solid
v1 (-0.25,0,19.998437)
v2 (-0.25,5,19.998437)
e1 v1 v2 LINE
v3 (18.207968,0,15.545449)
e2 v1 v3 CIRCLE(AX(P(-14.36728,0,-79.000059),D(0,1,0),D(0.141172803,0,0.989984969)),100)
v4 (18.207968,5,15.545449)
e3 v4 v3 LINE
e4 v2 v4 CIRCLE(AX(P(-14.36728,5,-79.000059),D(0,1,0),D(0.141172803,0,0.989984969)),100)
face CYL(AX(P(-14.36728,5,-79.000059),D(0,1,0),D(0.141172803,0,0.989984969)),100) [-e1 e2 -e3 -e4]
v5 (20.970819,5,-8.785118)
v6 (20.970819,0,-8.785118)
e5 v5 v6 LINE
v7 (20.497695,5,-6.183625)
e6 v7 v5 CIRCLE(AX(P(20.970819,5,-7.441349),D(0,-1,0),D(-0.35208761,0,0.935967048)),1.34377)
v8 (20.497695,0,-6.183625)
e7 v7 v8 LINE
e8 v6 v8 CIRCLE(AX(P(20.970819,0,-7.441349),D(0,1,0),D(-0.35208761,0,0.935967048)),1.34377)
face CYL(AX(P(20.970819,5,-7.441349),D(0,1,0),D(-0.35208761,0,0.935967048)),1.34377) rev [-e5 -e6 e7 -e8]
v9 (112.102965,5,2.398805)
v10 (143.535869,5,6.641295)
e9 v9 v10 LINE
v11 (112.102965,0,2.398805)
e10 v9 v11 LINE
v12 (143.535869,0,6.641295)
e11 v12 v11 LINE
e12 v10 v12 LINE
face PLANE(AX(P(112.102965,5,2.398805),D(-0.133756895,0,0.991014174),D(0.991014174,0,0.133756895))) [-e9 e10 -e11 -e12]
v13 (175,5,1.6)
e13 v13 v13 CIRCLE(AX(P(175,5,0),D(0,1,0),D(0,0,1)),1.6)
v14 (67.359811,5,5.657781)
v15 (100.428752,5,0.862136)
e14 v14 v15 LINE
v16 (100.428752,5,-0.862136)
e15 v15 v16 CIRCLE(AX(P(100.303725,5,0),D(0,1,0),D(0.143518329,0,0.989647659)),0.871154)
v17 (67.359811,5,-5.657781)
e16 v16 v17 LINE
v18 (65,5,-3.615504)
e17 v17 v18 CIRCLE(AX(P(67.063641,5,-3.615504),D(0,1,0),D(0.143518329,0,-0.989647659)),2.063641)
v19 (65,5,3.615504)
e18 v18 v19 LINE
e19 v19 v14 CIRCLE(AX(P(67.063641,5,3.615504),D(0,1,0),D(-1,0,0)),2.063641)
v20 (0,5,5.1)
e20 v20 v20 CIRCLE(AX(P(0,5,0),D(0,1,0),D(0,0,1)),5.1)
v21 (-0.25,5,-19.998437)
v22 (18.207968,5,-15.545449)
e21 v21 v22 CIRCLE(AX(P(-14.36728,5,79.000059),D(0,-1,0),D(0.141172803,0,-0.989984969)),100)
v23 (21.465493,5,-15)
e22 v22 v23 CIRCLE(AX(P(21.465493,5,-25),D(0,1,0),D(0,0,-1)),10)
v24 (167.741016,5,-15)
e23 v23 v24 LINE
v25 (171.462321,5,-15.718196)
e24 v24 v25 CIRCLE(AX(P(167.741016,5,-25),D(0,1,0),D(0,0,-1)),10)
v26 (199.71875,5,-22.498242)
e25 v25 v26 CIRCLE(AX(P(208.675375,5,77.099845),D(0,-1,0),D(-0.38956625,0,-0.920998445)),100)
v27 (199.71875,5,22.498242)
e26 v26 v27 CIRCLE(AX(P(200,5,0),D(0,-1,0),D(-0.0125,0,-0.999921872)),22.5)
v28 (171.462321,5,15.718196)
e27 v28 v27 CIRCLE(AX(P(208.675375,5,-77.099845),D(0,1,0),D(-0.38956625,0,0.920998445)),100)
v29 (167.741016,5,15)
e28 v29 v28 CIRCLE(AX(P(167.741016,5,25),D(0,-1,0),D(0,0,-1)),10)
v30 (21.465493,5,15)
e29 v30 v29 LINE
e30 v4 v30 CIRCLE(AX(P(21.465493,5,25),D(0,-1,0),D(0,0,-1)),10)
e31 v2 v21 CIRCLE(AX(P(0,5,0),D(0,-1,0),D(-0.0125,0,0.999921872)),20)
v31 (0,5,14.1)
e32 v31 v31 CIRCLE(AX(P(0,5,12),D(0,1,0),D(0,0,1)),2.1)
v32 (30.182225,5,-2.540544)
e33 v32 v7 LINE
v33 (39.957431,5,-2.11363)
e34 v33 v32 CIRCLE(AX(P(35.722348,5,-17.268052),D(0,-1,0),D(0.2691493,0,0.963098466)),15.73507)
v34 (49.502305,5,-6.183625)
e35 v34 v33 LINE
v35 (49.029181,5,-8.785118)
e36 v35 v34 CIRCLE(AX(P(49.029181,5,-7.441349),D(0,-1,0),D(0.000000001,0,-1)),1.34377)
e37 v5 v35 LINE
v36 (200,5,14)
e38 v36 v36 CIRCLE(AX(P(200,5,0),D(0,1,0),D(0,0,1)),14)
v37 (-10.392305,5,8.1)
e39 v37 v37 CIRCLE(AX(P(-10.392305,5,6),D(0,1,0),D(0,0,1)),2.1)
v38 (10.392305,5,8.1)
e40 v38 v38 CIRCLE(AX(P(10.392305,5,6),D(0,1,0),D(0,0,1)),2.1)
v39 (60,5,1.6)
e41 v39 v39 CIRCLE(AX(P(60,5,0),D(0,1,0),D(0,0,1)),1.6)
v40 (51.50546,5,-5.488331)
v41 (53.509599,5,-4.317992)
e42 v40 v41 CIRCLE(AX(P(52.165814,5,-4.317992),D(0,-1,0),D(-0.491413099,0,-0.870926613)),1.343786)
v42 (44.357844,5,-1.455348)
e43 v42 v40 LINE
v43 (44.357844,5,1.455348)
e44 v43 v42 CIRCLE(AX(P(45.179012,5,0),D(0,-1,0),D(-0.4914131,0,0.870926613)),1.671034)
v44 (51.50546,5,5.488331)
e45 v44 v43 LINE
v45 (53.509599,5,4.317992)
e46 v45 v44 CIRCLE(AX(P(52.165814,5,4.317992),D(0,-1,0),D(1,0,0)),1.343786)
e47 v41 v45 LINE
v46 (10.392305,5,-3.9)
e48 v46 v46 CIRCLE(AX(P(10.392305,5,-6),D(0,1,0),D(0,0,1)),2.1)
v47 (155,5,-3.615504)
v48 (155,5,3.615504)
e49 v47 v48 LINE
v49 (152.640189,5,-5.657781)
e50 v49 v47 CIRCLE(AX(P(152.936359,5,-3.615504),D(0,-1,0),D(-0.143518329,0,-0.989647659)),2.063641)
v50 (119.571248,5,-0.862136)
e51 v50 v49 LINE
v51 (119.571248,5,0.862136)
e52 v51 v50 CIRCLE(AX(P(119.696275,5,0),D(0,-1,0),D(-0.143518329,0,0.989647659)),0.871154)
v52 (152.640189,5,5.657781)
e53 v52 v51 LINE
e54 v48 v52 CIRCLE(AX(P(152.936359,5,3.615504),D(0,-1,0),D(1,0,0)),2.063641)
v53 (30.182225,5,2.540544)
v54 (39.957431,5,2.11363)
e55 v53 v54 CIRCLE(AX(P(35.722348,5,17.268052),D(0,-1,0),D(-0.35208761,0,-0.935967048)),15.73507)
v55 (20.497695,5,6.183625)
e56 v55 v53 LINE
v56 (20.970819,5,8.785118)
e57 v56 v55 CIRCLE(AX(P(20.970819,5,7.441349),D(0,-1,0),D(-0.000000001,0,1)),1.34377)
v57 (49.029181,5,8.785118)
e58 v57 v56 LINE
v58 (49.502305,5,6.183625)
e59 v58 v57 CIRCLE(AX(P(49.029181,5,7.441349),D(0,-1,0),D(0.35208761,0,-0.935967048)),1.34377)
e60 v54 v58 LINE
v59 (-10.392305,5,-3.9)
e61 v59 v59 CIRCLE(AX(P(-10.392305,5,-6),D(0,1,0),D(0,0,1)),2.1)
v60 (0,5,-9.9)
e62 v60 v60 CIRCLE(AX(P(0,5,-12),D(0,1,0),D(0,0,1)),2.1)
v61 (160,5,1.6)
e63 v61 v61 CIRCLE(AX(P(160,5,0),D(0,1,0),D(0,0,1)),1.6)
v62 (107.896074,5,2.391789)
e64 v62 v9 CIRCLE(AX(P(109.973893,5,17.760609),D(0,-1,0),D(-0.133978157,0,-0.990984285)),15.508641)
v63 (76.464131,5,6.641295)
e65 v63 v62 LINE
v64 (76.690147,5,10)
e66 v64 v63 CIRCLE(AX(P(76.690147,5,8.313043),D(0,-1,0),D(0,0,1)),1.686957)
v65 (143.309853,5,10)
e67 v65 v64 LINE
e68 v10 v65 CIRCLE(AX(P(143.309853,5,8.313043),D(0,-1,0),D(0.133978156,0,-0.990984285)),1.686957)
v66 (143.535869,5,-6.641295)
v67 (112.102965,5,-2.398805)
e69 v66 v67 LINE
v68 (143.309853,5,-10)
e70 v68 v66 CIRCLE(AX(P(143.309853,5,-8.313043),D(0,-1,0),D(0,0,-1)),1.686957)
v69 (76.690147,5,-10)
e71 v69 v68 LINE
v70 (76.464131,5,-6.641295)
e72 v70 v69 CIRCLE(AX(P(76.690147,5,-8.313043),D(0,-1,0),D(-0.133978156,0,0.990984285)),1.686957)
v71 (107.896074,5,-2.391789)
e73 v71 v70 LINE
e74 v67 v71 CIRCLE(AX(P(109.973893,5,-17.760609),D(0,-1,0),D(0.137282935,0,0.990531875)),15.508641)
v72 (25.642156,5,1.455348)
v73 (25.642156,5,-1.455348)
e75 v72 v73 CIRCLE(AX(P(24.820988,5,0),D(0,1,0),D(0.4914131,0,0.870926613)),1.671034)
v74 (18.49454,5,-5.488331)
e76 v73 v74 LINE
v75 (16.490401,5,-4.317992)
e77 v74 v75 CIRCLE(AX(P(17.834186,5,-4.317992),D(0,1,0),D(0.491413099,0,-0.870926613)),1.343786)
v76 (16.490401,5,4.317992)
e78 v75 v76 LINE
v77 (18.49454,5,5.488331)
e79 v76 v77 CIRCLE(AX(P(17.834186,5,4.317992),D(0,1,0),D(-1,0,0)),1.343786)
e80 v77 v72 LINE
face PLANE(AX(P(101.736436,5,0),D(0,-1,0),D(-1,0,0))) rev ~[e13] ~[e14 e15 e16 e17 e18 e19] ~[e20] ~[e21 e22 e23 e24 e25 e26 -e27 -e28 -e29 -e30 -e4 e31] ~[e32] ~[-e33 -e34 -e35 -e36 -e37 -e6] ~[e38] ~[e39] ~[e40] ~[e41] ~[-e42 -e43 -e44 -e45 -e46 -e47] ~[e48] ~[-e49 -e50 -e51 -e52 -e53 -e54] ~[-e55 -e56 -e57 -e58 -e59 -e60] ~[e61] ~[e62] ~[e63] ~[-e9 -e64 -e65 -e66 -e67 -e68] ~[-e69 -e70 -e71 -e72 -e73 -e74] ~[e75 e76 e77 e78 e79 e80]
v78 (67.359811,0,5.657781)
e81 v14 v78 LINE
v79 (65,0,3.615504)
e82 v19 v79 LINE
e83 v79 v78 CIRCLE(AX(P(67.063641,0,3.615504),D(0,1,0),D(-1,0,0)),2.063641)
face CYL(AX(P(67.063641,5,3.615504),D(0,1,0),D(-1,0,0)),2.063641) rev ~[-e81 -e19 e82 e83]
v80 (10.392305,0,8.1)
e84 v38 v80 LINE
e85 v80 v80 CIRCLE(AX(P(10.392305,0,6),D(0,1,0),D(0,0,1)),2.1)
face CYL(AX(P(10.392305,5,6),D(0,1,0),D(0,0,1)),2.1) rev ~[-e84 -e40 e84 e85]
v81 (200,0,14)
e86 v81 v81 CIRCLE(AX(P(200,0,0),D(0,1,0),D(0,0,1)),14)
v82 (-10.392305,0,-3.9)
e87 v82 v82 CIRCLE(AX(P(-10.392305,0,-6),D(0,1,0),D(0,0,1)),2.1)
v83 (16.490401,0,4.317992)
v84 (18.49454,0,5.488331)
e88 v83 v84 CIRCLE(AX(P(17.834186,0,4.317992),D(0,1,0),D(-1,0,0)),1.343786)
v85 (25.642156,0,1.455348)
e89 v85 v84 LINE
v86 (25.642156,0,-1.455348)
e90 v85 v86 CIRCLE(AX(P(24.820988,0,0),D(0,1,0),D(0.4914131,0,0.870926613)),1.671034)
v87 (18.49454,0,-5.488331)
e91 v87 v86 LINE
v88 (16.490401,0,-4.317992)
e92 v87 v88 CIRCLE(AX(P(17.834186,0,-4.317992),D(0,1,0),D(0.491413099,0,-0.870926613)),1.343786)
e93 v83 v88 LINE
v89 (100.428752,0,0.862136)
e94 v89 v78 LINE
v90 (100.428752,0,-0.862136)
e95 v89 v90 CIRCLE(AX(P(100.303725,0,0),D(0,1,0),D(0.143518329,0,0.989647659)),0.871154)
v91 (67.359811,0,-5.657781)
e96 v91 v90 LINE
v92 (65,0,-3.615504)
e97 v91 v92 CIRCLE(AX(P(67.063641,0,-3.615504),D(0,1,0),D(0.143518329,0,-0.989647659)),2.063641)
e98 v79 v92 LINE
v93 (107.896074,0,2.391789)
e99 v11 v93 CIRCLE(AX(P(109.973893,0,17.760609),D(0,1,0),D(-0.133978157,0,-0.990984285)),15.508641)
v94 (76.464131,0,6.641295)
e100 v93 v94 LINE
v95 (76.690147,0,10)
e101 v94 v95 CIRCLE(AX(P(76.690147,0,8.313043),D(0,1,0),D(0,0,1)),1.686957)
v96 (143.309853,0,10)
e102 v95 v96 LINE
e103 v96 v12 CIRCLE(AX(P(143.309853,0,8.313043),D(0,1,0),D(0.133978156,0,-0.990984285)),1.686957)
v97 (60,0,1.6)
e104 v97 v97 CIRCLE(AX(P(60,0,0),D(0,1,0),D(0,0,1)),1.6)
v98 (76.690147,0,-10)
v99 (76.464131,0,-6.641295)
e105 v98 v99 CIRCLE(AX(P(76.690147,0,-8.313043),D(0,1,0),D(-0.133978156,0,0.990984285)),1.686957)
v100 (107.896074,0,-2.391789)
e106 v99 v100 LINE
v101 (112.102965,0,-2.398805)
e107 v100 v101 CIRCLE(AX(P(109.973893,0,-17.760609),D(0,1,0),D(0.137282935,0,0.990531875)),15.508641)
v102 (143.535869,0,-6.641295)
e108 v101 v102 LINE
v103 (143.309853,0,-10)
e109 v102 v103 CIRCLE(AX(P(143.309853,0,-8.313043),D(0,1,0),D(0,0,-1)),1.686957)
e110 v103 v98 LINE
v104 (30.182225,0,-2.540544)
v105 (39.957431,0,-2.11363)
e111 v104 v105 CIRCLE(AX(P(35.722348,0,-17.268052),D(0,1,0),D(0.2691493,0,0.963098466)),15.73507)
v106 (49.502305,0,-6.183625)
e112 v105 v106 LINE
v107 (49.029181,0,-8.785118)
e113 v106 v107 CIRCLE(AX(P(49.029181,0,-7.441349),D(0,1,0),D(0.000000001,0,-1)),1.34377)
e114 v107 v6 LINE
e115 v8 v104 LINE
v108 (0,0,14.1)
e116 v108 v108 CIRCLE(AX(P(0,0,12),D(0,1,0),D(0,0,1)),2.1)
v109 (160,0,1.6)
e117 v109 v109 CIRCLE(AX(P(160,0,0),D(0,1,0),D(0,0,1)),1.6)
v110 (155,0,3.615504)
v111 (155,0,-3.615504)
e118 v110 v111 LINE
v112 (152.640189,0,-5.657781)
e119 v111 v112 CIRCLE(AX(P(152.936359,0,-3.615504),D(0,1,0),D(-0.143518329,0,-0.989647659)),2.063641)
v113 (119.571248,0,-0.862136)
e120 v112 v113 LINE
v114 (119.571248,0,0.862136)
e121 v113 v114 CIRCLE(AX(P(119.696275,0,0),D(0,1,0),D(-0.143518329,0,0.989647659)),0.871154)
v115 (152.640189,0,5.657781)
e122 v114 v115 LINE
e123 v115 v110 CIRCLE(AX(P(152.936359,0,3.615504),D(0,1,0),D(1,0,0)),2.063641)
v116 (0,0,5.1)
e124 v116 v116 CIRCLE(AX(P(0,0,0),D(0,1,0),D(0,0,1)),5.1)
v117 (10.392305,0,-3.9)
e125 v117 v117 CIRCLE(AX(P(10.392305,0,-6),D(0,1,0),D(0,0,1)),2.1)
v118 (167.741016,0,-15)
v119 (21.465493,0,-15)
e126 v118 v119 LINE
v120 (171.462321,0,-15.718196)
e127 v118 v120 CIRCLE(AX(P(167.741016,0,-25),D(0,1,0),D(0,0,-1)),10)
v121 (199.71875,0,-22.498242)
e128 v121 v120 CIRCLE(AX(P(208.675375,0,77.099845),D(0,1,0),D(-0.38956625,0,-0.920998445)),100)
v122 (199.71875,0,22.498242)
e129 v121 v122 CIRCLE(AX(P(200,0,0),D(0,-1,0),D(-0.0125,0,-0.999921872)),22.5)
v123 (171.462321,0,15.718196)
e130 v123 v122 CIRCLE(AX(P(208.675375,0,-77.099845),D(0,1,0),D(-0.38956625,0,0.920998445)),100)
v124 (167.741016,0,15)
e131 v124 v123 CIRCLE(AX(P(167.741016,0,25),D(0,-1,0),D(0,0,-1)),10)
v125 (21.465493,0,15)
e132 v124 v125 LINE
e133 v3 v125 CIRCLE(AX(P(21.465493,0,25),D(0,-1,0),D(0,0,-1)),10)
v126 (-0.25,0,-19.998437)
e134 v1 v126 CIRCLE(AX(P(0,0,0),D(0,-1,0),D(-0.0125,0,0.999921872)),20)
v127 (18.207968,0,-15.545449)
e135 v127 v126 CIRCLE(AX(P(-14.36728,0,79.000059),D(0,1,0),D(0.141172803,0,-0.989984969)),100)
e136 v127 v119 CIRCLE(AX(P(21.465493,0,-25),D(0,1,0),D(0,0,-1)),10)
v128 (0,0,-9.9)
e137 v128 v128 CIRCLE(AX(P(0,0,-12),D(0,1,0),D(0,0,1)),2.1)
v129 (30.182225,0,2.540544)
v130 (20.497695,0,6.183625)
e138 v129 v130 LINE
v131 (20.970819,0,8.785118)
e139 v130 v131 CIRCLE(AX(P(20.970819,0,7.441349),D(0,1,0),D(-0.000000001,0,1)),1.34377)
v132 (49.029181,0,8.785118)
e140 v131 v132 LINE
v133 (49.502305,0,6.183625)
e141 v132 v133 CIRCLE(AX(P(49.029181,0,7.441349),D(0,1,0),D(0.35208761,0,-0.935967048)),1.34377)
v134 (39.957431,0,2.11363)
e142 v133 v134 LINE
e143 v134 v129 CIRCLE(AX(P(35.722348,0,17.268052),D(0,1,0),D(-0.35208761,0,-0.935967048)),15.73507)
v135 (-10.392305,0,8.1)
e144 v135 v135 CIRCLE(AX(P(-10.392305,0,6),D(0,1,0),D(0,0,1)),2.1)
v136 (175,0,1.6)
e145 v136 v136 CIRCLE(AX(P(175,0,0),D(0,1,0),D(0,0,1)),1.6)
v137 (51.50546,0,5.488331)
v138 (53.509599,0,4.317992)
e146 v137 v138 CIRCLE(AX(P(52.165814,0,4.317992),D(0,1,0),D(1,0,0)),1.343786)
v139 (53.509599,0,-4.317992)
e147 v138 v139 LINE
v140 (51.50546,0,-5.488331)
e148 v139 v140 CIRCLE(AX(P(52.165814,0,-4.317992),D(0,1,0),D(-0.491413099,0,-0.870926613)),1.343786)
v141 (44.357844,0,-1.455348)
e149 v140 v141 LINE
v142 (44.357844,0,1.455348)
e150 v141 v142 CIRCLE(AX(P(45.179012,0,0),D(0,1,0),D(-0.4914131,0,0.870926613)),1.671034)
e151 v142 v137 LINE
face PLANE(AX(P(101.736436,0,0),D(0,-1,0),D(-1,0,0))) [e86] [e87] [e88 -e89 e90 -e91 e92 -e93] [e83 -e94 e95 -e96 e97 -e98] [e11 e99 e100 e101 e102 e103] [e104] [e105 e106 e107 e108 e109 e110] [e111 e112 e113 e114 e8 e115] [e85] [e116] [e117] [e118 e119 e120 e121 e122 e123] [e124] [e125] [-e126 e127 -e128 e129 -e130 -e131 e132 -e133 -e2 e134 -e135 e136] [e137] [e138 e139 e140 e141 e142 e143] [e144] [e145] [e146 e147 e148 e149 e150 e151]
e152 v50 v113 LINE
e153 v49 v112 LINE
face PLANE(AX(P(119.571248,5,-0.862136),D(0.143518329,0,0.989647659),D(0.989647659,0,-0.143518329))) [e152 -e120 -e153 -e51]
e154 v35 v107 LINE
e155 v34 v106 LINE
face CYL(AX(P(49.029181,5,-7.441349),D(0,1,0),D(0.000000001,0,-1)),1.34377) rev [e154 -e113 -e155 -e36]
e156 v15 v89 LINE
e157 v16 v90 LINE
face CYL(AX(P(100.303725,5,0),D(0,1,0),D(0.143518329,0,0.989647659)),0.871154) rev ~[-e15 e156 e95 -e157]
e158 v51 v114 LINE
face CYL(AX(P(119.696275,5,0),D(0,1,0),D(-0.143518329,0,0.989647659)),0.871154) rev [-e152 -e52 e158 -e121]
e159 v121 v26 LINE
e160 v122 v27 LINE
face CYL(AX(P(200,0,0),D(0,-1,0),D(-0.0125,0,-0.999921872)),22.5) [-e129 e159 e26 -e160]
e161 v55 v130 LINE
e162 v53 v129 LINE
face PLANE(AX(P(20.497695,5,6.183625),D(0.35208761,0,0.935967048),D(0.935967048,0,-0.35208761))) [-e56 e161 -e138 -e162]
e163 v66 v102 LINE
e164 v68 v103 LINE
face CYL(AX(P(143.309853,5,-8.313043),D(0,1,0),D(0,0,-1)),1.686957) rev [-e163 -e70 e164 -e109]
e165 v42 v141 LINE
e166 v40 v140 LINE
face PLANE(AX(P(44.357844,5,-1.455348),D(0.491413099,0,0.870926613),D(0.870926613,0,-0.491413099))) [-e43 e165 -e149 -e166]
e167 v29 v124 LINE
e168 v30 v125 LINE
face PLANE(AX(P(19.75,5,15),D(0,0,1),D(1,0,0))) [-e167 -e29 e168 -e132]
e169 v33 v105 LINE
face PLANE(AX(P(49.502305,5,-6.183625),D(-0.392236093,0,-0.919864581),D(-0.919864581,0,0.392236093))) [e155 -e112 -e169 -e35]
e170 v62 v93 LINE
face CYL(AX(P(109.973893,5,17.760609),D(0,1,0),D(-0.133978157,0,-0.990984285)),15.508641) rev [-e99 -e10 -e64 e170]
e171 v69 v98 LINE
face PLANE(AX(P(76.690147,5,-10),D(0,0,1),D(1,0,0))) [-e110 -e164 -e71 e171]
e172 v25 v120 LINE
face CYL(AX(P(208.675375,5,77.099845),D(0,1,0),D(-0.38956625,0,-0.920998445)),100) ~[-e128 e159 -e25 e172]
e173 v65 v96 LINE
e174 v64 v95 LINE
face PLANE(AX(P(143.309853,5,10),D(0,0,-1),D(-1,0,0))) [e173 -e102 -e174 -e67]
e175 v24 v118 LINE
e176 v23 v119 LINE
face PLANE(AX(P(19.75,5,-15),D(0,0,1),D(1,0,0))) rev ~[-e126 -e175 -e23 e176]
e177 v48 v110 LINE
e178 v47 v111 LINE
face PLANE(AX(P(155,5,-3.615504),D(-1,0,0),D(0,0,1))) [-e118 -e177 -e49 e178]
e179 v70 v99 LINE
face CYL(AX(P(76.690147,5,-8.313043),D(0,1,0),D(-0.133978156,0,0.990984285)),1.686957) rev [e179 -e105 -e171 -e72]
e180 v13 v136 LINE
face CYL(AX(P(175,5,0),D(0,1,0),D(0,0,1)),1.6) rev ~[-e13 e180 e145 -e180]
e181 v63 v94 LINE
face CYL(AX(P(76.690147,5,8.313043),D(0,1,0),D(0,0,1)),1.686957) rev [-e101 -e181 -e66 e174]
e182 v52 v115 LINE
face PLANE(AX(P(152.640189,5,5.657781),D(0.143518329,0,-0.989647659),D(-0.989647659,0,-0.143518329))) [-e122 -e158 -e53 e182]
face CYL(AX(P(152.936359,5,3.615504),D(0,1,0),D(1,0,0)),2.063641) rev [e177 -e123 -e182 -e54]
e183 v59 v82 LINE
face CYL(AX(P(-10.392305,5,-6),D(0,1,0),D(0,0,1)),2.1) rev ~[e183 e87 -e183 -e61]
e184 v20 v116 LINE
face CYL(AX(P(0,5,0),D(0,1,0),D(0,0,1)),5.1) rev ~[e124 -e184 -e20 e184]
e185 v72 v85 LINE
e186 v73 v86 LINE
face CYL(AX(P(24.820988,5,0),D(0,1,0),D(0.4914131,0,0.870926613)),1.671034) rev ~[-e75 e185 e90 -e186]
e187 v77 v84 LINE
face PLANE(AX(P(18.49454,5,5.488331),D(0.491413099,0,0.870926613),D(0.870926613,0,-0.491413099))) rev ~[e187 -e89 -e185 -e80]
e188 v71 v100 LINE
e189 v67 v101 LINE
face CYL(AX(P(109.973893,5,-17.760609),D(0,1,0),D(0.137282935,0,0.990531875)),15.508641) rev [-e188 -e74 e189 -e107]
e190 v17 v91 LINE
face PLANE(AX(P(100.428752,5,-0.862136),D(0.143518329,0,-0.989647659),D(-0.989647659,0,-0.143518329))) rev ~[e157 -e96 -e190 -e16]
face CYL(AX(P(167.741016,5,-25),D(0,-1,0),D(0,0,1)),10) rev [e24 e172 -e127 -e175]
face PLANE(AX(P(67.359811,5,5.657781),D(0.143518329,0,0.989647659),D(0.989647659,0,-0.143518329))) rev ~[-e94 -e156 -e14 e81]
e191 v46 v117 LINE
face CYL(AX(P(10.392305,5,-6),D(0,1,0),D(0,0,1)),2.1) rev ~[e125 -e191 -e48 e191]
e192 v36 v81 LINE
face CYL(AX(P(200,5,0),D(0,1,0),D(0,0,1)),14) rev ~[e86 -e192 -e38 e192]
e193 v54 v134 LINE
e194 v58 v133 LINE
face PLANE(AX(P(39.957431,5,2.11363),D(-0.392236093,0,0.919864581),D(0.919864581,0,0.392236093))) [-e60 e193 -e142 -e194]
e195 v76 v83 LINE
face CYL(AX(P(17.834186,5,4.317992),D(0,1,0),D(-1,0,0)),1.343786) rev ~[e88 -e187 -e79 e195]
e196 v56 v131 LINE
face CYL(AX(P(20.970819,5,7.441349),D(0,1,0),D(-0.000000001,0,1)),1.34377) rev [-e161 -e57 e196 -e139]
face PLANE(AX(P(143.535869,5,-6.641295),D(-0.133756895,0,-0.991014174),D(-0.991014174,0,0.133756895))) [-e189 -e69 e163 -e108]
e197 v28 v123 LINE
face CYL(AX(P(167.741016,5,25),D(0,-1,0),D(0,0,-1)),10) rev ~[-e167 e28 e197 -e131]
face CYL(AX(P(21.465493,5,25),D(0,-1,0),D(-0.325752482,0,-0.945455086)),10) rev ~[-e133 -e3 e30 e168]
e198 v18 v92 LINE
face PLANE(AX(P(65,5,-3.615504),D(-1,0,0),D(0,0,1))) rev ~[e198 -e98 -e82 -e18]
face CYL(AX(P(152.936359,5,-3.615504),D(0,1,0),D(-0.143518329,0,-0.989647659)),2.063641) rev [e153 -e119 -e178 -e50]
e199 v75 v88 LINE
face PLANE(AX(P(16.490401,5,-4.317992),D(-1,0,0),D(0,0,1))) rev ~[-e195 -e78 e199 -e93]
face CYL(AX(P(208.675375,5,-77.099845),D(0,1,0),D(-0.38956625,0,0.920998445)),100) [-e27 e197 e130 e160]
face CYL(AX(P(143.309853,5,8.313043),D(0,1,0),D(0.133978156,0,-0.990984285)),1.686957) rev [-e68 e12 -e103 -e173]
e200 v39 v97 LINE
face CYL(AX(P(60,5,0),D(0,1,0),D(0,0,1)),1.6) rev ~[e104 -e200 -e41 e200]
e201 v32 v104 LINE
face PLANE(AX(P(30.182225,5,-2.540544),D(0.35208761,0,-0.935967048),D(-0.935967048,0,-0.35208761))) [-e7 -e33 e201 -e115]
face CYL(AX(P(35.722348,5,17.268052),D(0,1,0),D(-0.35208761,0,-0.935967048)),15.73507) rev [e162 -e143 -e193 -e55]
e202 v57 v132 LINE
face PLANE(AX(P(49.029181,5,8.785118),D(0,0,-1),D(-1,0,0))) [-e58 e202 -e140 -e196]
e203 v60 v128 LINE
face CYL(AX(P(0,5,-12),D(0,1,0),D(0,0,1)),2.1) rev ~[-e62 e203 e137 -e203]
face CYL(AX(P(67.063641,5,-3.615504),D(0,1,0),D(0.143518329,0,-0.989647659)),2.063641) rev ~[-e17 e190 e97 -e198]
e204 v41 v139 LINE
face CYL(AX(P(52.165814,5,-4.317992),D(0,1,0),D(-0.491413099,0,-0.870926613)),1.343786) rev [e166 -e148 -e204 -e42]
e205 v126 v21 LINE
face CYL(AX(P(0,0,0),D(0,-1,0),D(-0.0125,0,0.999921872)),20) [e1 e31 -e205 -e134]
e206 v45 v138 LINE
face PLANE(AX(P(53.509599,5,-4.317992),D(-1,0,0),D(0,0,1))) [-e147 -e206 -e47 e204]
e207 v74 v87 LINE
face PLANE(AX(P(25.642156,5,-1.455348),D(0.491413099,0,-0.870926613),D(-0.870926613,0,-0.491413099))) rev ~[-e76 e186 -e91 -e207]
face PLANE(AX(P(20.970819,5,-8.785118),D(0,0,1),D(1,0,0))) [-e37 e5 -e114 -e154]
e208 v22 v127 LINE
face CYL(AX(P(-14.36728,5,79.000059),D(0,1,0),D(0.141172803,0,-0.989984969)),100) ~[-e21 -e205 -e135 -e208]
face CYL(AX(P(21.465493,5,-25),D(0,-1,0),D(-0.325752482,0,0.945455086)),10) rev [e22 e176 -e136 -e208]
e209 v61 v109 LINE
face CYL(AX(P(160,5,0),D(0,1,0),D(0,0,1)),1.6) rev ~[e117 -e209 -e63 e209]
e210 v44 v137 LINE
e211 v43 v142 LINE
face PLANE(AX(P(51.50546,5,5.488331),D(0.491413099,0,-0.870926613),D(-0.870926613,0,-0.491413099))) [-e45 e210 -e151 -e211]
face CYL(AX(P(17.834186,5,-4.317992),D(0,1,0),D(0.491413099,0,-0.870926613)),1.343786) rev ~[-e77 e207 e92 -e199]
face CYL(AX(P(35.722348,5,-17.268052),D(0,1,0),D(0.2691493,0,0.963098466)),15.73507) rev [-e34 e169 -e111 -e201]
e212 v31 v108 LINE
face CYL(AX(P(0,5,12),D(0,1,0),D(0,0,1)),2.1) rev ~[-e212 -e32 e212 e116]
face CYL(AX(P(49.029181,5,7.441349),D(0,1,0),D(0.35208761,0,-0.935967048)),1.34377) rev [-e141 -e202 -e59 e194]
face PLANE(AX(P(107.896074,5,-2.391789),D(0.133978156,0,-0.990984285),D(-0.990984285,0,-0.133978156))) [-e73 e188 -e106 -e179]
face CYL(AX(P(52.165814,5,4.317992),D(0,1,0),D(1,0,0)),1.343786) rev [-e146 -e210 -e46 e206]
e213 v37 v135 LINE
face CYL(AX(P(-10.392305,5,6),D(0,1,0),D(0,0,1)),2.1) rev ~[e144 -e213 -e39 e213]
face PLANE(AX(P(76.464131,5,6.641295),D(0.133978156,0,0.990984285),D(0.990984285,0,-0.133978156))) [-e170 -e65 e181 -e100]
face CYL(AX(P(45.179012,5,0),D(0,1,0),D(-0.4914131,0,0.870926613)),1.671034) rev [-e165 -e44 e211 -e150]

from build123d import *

# Parameters (mm, degrees)
EXTRUDE_1_DEPTH     = 5
SKETCH_2_R          = 5.1
CUT_EXTRUDE_1_DEPTH = 10
SKETCH_3_R          = 14
CUT_EXTRUDE_2_DEPTH = 10
SKETCH_4_R          = 2.1
CUT_EXTRUDE_3_DEPTH = 10
CUT_EXTRUDE_4_DEPTH = 224.690634583
FILLET_1_R          = 10
SKETCH_12_R         = 1.6
CUT_EXTRUDE_5_DEPTH = 224.690634583
CUT_EXTRUDE_6_DEPTH = 10


with BuildPart() as part:
    # 草图1 → 凸台-拉伸1 (new body)
    with BuildSketch(Plane(origin=(0, 0, 0), x_dir=(1, 0, 0), z_dir=(0, 1, 0))):
        with BuildLine():
            Line((-0.25, 19.998437439), (199.71875, 22.498242119))
            ThreePointArc((199.71875, 22.498242119), (222.5, 0), (199.71875, -22.498242119))
            Line((199.71875, -22.498242119), (-0.25, -19.998437439))
            ThreePointArc((-0.25, -19.998437439), (-20, 0), (-0.25, 19.998437439))
        make_face()
    extrude(amount=EXTRUDE_1_DEPTH)

    # 草图2 → 切除-拉伸1 (cut)
    with BuildSketch(Plane(origin=(0, 5, 0), x_dir=(1, 0, 0), z_dir=(0, 1, 0))):
        with Locations(Location((0, 0, 0), (0, 0, 270))):
            Circle(SKETCH_2_R)
    extrude(amount=-CUT_EXTRUDE_1_DEPTH, mode=Mode.SUBTRACT)

    # 草图3 → 切除-拉伸2 (cut)
    with BuildSketch(Plane(origin=(0, 5, 0), x_dir=(1, 0, 0), z_dir=(0, 1, 0))):
        with Locations(Location((200, 0, 0), (0, 0, 270))):
            Circle(SKETCH_3_R)
    extrude(amount=-CUT_EXTRUDE_2_DEPTH, mode=Mode.SUBTRACT)

    # 草图4 → 切除-拉伸3 (cut)
    with BuildSketch(Plane(origin=(0, 5, 0), x_dir=(1, 0, 0), z_dir=(0, 1, 0))):
        with Locations(Location((0, 12, 0), (0, 0, 270))):
            Circle(SKETCH_4_R)
        with Locations(Location((10.392304845, 6, 0), (0, 0, 270))):
            Circle(SKETCH_4_R)
        with Locations(Location((10.392304845, -6, 0), (0, 0, 270))):
            Circle(SKETCH_4_R)
        with Locations(Location((0, -12, 0), (0, 0, 270))):
            Circle(SKETCH_4_R)
        with Locations(Location((-10.392304845, -6, 0), (0, 0, 270))):
            Circle(SKETCH_4_R)
        with Locations(Location((-10.392304845, 6, 0), (0, 0, 270))):
            Circle(SKETCH_4_R)
    extrude(amount=-CUT_EXTRUDE_3_DEPTH, mode=Mode.SUBTRACT)

    # 草图10 → 切除-拉伸4 (cut, through all)
    with BuildSketch(Plane(origin=(0, 5, 0), x_dir=(1, 0, 0), z_dir=(0, 1, 0))):
        with BuildLine():
            Line((19.75, 15), (169.71875, 15))
            ThreePointArc((169.71875, 15), (184.427162899, 19.915742901), (199.71875, 22.498242119))
            Line((199.71875, 22.498242119), (-0.25, 19.998437439))
            ThreePointArc((-0.25, 19.998437439), (9.879148371, 18.015973695), (19.75, 15))
        make_face()
        with BuildLine():
            Line((19.75, -15), (169.71875, -15))
            ThreePointArc((169.71875, -15), (184.427162899, -19.915742901), (199.71875, -22.498242119))
            Line((199.71875, -22.498242119), (-0.25, -19.998437439))
            ThreePointArc((-0.25, -19.998437439), (9.879148371, -18.015973695), (19.75, -15))
        make_face()
    extrude(amount=-CUT_EXTRUDE_4_DEPTH, mode=Mode.SUBTRACT)

    # 圆角1
    fillet_1_edges = [part.edges().sort_by_distance(p)[0] for p in [
        (169.71875, 2.5, 15),
        (19.75, 2.5, 15),
        (19.75, 2.5, -15),
        (169.71875, 2.5, -15),
    ]]
    fillet(fillet_1_edges, radius=FILLET_1_R)

    # 草图12 → 切除-拉伸5 (cut, through all)
    with BuildSketch(Plane(origin=(0, 5, 0), x_dir=(1, 0, 0), z_dir=(0, 1, 0))):
        with Locations(Location((160, 0, 0), (0, 0, 270))):
            Circle(SKETCH_12_R)
        with Locations(Location((60, 0, 0), (0, 0, 270))):
            Circle(SKETCH_12_R)
        with Locations(Location((175, 0, 0), (0, 0, 270))):
            Circle(SKETCH_12_R)
        with BuildLine():
            Line((76.690146779, 10), (143.309853221, 10))
            ThreePointArc((143.309853221, 10), (144.993003562, 8.426306348), (143.535868598, 6.64129529))
            Line((143.535868598, 6.64129529), (112.102965186, 2.39880546))
            ThreePointArc((112.102965186, 2.39880546), (109.999758761, 2.251989281), (107.896074318, 2.391789195))
            Line((107.896074318, 2.391789195), (76.464131402, 6.64129529))
            ThreePointArc((76.464131402, 6.64129529), (75.006996438, 8.426306348), (76.690146779, 10))
        make_face()
        with BuildLine():
            Line((65, 3.615503909), (65, -3.615503909))
            ThreePointArc((65, -3.615503909), (65.713191903, -5.175920839), (67.359810975, -5.657781105))
            Line((67.359810975, -5.657781105), (100.428751598, -0.862135837))
            ThreePointArc((100.428751598, -0.862135837), (101.174879309, 0), (100.428751598, 0.862135837))
            Line((100.428751598, 0.862135837), (67.359810975, 5.657781105))
            ThreePointArc((67.359810975, 5.657781105), (65.713191903, 5.175920839), (65, 3.615503909))
        make_face()
        with BuildLine():
            Line((155, 3.615503909), (155, -3.615503909))
            ThreePointArc((155, -3.615503909), (154.286808097, -5.175920839), (152.640189025, -5.657781105))
            Line((152.640189025, -5.657781105), (119.571248402, -0.862135837))
            ThreePointArc((119.571248402, -0.862135837), (118.825120691, 0), (119.571248402, 0.862135837))
            Line((119.571248402, 0.862135837), (152.640189025, 5.657781105))
            ThreePointArc((152.640189025, 5.657781105), (154.286808097, 5.175920839), (155, 3.615503909))
        make_face()
        with BuildLine():
            Line((76.464131402, -6.64129529), (107.896074318, -2.391789195))
            ThreePointArc((107.896074318, -2.391789195), (109.999758761, -2.251989281), (112.102965186, -2.39880546))
            Line((112.102965186, -2.39880546), (143.535868598, -6.64129529))
            ThreePointArc((143.535868598, -6.64129529), (144.993003562, -8.426306348), (143.309853221, -10))
            Line((143.309853221, -10), (76.690146779, -10))
            ThreePointArc((76.690146779, -10), (75.006996438, -8.426306348), (76.464131402, -6.64129529))
        make_face()
    extrude(amount=-CUT_EXTRUDE_5_DEPTH, mode=Mode.SUBTRACT)

    # 草图13 → 切除-拉伸6 (cut)
    with BuildSketch(Plane(origin=(0, 5, 0), x_dir=(1, 0, 0), z_dir=(0, 1, 0))):
        with BuildLine():
            Line((20.970819312, 8.785118289), (49.029180688, 8.785118289))
            ThreePointArc((49.029180688, 8.785118289), (50.351263939, 7.681791354), (49.502305324, 6.183624568))
            Line((49.502305324, 6.183624568), (39.957431091, 2.113629648))
            ThreePointArc((39.957431091, 2.113629648), (35.035801099, 1.547966117), (30.182224549, 2.540544414))
            Line((30.182224549, 2.540544414), (20.497694676, 6.183624568))
            ThreePointArc((20.497694676, 6.183624568), (19.648736061, 7.681791354), (20.970819312, 8.785118289))
        make_face()
        with BuildLine():
            Line((16.490400657, 4.317991857), (16.490400657, -4.317991857))
            ThreePointArc((16.490400657, -4.317991857), (17.156548552, -5.478408553), (18.494540137, -5.488330518))
            Line((18.494540137, -5.488330518), (25.642155827, -1.455347803))
            ThreePointArc((25.642155827, -1.455347803), (26.492021725, 0), (25.642155827, 1.455347803))
            Line((25.642155827, 1.455347803), (18.494540137, 5.488330518))
            ThreePointArc((18.494540137, 5.488330518), (17.156548552, 5.478408553), (16.490400657, 4.317991857))
        make_face()
        with BuildLine():
            Line((53.509599343, 4.317991857), (53.509599343, -4.317991857))
            ThreePointArc((53.509599343, -4.317991857), (52.843451448, -5.478408553), (51.505459863, -5.488330518))
            Line((51.505459863, -5.488330518), (44.357844173, -1.455347803))
            ThreePointArc((44.357844173, -1.455347803), (43.507978275, 0), (44.357844173, 1.455347803))
            Line((44.357844173, 1.455347803), (51.505459863, 5.488330518))
            ThreePointArc((51.505459863, 5.488330518), (52.843451448, 5.478408553), (53.509599343, 4.317991857))
        make_face()
        with BuildLine():
            Line((20.497694676, -6.183624568), (30.182224549, -2.540544414))
            ThreePointArc((30.182224549, -2.540544414), (35.035801099, -1.547966117), (39.957431091, -2.113629648))
            Line((39.957431091, -2.113629648), (49.502305324, -6.183624568))
            ThreePointArc((49.502305324, -6.183624568), (50.351263939, -7.681791354), (49.029180688, -8.785118289))
            Line((49.029180688, -8.785118289), (20.970819312, -8.785118289))
            ThreePointArc((20.970819312, -8.785118289), (19.648736061, -7.681791354), (20.497694676, -6.183624568))
        make_face()
    extrude(amount=-CUT_EXTRUDE_6_DEPTH, mode=Mode.SUBTRACT)


solid = part.part
